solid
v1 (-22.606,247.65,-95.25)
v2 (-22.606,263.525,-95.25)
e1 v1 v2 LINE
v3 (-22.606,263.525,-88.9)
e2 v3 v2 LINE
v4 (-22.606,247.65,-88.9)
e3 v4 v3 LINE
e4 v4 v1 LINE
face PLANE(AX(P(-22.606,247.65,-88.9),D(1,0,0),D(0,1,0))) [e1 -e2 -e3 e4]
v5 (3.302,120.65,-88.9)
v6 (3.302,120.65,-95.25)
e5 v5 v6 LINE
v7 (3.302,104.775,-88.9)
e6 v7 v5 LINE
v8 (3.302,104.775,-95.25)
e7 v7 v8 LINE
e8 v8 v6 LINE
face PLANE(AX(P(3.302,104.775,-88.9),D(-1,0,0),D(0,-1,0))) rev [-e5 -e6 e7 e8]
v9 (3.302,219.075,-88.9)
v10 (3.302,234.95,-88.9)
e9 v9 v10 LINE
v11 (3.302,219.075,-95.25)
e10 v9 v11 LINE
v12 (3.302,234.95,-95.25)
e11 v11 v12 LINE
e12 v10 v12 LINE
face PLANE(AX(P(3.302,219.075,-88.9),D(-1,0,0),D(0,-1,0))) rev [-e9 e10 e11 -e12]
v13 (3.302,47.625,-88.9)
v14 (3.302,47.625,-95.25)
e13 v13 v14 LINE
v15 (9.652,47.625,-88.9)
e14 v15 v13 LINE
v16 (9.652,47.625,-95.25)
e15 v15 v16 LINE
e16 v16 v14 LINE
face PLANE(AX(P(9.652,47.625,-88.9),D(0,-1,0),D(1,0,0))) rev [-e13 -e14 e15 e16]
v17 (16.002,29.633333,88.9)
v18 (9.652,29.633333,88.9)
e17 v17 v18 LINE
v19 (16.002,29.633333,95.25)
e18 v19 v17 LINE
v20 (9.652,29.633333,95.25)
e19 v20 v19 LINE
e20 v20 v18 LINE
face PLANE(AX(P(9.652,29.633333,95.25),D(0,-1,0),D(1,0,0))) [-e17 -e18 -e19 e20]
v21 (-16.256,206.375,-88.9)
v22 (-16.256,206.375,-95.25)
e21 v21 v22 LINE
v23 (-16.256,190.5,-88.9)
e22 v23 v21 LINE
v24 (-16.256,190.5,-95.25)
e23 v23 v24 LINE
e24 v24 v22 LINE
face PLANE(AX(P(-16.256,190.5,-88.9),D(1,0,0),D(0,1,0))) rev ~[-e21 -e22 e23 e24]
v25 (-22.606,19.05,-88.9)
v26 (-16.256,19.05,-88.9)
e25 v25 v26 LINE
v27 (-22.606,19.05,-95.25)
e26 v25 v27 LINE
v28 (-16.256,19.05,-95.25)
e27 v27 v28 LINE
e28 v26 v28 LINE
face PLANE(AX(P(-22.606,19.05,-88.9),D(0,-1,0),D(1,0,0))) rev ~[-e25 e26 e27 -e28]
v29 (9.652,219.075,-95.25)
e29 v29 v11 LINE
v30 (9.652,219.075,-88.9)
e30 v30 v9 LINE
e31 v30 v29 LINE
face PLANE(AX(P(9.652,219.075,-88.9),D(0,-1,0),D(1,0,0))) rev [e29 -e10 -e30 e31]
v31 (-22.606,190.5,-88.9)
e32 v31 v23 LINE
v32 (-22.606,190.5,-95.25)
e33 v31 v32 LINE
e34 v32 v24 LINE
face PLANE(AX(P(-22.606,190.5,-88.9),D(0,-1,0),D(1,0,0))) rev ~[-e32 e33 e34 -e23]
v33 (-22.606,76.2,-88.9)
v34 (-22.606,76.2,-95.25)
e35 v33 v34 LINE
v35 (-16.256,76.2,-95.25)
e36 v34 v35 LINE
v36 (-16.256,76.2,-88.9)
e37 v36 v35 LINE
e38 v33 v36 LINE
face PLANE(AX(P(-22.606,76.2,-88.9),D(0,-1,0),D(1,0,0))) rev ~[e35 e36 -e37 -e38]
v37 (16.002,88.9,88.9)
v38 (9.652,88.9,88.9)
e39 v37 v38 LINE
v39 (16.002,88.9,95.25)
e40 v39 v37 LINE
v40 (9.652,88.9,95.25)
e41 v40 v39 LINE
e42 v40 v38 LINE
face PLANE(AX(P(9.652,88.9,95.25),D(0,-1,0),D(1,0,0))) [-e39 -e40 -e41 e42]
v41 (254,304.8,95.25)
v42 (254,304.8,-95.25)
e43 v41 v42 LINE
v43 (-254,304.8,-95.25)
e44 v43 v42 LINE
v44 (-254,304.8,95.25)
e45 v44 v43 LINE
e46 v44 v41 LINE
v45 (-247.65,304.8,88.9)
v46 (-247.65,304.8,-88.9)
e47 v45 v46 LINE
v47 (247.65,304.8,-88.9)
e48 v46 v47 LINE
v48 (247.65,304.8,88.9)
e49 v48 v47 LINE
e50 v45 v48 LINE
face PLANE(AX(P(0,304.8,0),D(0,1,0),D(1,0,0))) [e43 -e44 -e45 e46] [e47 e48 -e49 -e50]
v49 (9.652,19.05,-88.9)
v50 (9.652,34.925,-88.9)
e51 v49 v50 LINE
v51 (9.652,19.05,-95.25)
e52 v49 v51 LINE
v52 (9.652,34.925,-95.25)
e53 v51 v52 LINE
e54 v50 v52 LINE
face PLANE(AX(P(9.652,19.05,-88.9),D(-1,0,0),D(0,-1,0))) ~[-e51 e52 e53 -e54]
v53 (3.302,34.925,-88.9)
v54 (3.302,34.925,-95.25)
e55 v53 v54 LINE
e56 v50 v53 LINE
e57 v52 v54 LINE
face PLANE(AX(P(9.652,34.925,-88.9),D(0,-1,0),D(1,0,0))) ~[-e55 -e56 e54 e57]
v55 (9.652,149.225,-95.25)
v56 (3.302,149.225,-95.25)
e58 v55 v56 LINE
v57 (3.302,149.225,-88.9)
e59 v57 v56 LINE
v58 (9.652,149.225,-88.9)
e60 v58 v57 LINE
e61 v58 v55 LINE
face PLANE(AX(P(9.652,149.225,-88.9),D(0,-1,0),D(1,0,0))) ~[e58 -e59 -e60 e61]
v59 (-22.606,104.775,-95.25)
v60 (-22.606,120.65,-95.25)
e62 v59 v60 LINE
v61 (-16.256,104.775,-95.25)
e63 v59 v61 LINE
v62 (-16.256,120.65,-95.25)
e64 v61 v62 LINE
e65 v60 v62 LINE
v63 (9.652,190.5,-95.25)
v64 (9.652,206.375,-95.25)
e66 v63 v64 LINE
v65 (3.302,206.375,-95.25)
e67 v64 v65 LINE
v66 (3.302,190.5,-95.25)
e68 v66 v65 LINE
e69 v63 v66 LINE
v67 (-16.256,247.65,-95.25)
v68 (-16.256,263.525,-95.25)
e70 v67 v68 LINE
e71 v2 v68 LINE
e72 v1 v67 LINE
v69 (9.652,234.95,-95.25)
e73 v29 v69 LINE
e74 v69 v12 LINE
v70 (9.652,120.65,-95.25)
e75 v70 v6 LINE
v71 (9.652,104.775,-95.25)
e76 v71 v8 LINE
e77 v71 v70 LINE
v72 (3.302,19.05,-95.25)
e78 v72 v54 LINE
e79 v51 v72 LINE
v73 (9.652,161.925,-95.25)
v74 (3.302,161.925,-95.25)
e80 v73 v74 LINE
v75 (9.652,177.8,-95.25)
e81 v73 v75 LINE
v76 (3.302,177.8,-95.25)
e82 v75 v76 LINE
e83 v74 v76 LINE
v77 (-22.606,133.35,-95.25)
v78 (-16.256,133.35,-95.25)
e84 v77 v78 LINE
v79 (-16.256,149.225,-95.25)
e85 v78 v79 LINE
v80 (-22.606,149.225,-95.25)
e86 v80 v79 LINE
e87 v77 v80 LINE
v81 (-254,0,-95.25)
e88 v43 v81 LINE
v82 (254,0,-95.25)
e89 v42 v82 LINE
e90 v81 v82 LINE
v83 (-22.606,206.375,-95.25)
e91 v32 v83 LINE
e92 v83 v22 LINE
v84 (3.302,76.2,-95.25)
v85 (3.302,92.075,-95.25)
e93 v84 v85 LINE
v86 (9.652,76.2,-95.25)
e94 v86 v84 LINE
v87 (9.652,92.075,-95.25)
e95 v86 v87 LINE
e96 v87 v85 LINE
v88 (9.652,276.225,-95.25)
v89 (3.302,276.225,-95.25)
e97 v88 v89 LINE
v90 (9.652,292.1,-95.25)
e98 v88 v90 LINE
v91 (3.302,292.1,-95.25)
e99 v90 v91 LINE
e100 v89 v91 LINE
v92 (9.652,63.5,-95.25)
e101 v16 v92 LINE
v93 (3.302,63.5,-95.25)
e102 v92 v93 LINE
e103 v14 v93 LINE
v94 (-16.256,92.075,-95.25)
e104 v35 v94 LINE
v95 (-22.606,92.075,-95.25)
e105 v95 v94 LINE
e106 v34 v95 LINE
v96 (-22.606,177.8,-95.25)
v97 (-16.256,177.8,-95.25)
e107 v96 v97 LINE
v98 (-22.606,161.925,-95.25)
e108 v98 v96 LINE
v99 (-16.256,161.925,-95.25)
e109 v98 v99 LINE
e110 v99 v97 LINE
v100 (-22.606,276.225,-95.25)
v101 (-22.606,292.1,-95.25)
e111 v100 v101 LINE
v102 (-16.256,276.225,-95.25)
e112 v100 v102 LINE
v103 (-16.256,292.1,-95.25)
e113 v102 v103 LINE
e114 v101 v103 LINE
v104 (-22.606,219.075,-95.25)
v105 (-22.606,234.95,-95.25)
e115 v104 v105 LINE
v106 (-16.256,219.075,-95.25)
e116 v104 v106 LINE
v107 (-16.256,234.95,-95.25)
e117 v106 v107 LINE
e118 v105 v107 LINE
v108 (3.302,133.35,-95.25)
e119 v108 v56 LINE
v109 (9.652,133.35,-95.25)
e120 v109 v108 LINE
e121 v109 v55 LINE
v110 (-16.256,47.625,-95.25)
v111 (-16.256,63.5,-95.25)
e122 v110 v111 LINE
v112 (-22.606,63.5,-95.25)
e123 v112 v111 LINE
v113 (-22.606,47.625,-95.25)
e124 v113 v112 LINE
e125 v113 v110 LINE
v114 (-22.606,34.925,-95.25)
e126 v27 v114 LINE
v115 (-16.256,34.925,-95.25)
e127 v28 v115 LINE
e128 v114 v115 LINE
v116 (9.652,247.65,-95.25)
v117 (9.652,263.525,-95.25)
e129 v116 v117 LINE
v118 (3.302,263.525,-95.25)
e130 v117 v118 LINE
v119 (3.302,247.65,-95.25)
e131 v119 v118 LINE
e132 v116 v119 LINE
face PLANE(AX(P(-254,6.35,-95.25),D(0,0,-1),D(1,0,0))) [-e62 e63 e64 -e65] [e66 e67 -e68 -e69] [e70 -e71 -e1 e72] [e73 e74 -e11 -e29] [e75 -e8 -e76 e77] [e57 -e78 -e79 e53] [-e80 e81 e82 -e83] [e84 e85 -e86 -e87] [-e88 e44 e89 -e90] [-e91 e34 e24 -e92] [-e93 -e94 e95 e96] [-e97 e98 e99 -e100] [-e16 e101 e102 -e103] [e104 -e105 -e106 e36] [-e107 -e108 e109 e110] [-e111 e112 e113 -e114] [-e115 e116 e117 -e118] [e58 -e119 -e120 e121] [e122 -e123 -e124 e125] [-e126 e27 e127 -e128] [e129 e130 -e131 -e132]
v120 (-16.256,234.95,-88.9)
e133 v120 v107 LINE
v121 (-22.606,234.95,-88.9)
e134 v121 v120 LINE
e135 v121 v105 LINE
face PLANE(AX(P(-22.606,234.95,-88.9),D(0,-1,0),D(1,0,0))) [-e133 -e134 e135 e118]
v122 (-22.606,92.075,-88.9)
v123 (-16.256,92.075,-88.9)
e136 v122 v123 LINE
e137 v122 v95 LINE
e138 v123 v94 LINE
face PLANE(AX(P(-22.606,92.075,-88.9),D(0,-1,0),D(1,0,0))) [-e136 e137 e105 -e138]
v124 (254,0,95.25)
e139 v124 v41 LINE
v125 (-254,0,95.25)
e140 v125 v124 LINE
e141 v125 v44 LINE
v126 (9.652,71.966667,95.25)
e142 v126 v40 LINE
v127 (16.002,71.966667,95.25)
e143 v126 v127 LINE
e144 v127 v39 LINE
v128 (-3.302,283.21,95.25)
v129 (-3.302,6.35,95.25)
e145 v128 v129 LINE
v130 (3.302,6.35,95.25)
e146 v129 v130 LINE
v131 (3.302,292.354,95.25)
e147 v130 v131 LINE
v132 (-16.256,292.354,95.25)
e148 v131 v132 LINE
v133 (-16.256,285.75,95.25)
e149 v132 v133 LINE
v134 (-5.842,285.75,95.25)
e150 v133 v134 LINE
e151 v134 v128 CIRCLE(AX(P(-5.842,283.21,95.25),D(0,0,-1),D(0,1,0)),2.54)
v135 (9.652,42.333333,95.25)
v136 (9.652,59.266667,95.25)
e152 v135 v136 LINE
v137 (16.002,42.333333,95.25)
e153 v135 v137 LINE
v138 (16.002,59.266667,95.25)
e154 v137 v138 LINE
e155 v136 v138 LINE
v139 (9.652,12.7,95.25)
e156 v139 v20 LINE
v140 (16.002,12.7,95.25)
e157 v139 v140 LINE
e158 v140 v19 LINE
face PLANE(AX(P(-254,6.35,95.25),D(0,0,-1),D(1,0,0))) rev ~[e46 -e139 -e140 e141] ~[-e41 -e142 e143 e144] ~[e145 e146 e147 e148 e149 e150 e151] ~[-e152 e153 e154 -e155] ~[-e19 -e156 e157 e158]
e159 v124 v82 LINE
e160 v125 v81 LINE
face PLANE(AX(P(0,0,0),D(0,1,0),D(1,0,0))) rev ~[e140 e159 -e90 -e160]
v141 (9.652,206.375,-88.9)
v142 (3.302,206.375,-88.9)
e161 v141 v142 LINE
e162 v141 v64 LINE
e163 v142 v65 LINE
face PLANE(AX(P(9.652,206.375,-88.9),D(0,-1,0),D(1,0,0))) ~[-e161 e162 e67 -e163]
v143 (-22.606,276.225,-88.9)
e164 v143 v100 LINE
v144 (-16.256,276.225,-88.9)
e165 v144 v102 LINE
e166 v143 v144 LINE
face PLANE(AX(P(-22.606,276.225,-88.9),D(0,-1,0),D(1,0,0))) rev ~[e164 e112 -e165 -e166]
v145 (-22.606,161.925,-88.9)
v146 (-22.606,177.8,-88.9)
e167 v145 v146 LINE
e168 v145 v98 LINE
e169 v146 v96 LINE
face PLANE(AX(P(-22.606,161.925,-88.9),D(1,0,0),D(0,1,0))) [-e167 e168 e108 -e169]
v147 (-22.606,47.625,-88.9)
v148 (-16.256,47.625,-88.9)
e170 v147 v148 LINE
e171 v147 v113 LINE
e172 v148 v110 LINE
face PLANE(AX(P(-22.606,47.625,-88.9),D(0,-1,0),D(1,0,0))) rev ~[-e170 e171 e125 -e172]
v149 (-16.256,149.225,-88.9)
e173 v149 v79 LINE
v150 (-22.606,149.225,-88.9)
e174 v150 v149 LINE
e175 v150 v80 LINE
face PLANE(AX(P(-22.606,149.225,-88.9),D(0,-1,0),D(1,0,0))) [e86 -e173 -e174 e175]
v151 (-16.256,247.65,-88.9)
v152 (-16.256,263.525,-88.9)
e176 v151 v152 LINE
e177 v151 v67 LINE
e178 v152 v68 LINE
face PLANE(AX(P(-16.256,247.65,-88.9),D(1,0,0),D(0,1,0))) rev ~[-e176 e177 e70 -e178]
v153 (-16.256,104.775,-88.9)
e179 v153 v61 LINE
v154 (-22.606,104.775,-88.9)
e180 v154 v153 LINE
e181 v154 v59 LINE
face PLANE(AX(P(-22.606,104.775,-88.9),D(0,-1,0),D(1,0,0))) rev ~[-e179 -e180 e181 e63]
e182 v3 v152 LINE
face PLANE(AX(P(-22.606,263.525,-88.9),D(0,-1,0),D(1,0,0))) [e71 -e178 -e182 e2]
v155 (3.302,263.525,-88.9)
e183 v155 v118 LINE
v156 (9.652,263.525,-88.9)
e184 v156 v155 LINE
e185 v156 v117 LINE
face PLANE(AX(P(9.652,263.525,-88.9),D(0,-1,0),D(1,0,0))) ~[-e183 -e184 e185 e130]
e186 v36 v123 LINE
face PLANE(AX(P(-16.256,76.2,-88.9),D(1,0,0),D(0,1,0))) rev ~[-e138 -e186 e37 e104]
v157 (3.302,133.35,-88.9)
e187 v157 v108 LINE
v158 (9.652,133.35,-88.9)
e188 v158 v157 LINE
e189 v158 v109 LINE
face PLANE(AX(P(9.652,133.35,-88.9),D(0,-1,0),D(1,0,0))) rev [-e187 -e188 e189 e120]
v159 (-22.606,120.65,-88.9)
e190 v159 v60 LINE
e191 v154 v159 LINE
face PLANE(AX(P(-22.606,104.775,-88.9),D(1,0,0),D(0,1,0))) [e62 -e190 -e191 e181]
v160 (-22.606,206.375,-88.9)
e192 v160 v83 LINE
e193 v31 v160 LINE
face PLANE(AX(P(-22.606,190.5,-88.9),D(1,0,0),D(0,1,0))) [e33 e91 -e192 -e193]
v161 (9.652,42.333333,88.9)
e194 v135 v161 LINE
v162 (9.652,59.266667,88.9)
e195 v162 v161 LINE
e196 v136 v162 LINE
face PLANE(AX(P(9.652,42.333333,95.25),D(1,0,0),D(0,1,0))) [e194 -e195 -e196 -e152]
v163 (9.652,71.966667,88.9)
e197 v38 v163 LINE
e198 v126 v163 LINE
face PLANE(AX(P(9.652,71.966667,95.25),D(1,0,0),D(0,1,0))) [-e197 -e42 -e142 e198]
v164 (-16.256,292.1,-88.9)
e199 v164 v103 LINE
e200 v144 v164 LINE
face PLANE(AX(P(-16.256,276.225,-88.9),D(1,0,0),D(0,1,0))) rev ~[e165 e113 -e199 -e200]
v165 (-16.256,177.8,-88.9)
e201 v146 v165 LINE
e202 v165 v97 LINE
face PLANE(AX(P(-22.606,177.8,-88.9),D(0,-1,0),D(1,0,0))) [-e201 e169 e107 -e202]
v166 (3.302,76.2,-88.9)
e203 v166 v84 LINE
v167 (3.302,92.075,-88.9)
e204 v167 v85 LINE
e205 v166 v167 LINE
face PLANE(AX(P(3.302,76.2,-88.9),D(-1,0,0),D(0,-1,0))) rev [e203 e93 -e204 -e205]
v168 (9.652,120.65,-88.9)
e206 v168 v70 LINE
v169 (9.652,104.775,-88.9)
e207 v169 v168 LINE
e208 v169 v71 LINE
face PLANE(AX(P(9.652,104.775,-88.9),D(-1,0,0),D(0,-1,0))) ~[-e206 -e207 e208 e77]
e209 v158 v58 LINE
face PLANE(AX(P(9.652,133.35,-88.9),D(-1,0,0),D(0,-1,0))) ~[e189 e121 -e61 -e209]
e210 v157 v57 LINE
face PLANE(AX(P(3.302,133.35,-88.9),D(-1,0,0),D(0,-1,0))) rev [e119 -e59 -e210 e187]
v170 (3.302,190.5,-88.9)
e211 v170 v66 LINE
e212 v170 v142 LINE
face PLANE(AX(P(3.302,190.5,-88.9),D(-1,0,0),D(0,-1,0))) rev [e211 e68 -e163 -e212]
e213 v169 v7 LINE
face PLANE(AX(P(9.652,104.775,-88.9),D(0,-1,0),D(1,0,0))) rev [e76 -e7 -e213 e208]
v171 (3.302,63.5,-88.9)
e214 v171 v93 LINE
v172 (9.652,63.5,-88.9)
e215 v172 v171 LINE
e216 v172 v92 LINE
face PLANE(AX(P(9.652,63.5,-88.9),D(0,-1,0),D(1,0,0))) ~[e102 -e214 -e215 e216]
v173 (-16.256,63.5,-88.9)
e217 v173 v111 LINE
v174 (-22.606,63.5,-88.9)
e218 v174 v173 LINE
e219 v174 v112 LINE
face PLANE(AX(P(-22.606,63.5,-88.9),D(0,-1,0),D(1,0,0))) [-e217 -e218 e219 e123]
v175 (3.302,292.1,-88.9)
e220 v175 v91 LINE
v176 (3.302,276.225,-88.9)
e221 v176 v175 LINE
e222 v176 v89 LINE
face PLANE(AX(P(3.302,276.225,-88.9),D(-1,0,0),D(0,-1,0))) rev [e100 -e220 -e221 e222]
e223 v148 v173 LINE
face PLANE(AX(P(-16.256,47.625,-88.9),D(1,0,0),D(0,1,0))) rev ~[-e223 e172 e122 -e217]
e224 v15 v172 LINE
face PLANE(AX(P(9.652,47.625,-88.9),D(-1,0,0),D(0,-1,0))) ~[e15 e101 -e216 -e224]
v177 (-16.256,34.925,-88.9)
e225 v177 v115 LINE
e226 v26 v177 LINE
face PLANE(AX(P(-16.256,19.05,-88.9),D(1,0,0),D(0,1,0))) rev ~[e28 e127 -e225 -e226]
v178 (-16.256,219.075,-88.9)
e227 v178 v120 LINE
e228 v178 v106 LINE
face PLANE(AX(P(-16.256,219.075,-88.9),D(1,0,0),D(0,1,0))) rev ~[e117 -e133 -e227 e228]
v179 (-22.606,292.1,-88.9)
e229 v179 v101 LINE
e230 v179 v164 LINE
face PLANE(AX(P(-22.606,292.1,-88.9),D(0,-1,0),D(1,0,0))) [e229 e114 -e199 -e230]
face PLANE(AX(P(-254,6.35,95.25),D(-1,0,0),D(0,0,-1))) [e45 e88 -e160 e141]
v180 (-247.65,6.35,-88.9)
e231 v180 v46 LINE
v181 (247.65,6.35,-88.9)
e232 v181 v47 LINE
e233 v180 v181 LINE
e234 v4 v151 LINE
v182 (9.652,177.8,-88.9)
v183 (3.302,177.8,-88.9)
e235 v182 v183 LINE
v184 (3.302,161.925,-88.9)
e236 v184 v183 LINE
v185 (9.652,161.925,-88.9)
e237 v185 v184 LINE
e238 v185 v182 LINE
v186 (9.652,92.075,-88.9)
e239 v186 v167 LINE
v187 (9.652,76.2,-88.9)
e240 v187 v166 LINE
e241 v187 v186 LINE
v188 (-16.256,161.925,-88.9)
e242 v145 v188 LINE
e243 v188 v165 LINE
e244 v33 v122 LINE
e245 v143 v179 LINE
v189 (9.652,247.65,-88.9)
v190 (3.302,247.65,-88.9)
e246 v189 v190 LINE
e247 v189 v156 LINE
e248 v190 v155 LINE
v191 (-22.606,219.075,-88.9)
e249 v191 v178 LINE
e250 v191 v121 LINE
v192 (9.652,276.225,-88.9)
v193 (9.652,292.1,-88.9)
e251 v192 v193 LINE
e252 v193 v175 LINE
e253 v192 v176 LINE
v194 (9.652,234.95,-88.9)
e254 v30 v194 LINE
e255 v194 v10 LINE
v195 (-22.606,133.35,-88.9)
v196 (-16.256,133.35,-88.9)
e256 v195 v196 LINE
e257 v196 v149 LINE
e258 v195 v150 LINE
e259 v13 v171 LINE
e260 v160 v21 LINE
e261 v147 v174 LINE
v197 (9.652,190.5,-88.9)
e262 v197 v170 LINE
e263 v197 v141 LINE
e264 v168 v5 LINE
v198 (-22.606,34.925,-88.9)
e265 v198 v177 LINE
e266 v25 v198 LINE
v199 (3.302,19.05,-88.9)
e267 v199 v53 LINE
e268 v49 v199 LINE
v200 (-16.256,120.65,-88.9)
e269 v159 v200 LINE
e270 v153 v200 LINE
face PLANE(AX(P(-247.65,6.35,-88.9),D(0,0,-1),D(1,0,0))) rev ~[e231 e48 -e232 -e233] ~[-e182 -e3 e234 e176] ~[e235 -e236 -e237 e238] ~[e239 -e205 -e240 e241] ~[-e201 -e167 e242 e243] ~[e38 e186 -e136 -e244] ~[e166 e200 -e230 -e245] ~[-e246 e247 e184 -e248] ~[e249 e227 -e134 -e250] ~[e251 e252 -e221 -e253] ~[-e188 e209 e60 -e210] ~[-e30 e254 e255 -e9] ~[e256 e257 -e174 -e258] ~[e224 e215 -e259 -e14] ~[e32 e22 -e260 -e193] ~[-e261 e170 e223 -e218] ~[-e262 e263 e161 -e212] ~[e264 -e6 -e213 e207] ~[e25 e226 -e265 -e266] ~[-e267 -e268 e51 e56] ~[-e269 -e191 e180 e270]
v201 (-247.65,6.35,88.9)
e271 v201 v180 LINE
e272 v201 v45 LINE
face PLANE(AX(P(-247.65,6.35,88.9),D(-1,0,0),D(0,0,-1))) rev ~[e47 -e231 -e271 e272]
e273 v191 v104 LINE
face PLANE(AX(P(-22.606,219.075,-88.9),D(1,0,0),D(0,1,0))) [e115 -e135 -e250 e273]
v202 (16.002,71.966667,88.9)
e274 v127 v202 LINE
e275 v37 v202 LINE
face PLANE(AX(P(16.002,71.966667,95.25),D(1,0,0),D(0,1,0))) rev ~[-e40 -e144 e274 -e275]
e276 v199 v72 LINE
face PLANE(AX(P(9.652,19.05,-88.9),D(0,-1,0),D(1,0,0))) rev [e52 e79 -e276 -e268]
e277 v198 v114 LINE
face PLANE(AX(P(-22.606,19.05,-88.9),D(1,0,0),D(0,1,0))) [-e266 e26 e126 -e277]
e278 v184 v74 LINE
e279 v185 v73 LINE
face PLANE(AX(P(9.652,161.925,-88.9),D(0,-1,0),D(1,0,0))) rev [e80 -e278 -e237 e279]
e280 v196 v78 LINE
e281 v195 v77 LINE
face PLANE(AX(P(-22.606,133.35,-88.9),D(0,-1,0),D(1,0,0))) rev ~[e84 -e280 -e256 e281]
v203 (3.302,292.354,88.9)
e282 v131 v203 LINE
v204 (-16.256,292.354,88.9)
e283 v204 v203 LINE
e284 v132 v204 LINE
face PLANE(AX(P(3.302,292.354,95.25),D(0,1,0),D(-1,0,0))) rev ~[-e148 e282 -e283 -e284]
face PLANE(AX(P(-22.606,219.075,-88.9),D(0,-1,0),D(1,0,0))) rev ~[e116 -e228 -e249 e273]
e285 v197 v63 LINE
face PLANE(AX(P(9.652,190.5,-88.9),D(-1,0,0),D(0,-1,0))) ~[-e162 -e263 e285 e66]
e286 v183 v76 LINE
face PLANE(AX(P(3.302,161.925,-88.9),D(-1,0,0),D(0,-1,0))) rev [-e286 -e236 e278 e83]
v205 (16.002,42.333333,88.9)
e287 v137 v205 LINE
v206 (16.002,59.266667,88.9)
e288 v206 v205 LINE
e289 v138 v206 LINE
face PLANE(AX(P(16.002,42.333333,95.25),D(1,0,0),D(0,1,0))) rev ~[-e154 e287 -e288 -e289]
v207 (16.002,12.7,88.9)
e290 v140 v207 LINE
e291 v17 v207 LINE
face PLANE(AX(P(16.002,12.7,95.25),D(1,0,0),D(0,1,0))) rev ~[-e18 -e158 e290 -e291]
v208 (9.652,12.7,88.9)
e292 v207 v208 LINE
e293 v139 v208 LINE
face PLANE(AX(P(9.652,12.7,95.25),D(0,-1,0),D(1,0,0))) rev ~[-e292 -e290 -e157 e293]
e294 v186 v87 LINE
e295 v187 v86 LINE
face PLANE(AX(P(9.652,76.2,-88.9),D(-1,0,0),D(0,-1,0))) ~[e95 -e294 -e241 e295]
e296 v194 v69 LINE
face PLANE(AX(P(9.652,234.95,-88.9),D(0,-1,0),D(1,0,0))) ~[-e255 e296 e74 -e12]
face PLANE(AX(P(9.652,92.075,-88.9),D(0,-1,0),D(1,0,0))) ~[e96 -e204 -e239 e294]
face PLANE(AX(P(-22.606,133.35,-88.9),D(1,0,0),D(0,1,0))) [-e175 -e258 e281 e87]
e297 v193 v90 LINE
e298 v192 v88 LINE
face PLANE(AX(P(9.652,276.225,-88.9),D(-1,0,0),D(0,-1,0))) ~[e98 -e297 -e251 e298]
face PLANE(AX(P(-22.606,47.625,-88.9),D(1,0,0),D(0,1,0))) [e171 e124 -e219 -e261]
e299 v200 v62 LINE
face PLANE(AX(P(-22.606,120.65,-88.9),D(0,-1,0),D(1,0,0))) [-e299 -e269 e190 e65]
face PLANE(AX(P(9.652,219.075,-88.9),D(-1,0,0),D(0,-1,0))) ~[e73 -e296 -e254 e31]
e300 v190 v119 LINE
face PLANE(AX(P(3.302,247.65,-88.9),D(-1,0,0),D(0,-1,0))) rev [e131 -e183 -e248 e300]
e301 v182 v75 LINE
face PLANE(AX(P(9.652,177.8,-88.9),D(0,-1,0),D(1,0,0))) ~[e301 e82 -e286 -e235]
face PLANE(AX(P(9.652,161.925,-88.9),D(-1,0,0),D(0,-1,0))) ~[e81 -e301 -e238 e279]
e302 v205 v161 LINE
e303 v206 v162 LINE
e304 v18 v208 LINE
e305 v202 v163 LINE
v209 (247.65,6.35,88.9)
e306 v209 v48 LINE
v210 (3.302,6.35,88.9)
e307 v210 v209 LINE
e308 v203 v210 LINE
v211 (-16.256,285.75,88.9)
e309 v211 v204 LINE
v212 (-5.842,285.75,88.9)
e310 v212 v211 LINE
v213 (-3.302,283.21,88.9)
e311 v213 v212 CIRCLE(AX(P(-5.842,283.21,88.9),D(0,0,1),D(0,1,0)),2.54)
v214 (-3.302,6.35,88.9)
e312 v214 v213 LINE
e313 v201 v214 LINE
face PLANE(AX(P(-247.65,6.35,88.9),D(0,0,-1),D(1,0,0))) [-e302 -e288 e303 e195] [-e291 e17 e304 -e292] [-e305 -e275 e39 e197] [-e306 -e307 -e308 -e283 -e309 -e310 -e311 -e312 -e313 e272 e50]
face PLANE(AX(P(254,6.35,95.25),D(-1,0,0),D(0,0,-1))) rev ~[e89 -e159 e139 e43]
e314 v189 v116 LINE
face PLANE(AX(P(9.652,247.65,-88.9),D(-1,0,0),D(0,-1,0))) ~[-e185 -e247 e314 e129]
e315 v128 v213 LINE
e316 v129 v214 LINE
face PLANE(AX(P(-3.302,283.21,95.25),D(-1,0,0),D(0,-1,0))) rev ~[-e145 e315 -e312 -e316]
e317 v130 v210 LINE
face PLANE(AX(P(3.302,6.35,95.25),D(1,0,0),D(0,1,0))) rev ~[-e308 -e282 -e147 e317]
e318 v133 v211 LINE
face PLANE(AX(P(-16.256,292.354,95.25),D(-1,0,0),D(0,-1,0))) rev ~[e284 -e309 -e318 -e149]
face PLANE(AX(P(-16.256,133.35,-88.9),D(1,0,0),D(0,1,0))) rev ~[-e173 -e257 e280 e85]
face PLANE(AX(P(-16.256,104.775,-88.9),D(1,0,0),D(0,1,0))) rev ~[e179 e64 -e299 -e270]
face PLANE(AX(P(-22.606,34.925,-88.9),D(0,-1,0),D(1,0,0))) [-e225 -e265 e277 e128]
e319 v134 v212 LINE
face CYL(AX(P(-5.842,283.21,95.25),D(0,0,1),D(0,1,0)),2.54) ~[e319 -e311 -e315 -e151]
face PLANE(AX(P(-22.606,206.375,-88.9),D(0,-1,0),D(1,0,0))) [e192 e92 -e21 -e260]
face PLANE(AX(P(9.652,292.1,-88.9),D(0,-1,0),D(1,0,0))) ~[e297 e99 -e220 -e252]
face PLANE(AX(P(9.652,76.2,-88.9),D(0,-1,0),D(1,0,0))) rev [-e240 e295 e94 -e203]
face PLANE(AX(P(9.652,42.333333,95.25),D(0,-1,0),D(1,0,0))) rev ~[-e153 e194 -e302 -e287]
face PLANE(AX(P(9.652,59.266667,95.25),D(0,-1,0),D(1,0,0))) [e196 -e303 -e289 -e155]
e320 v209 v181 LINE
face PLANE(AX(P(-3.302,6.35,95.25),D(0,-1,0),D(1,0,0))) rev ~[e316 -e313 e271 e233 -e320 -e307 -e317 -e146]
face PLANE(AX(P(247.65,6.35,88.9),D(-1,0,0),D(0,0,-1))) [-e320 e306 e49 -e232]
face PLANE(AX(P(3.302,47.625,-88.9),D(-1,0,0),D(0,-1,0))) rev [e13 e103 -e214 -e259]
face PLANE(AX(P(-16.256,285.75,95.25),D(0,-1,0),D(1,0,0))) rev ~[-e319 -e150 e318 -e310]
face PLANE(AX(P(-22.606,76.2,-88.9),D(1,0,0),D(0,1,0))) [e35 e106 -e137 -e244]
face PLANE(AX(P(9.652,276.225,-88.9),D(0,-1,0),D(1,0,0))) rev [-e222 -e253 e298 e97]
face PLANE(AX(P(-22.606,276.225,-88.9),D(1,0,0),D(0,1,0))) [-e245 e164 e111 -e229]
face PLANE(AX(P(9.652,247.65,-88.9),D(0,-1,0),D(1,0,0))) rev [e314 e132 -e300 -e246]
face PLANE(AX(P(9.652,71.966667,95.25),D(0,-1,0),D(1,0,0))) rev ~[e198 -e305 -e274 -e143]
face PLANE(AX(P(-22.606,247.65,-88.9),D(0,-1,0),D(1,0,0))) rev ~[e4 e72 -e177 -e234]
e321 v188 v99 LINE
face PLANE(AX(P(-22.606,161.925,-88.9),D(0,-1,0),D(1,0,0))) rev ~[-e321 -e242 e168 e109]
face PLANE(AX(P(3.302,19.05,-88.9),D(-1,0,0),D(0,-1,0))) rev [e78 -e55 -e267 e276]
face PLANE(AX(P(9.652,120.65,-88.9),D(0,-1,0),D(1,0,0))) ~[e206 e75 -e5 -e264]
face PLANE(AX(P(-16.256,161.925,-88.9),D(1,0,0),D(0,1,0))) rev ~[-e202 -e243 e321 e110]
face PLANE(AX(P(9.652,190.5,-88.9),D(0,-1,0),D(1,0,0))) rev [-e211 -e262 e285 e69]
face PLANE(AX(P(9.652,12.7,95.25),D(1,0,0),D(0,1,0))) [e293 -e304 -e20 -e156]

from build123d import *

# Parameters (mm, degrees)
SKETCH1_W           = 508
SKETCH1_H           = 190.5
BOSS_EXTRUDE1_DEPTH = 6.35
SKETCH2_W           = 508
SKETCH2_H           = 190.5
SKETCH2_W_2         = 495.3
SKETCH2_H_2         = 177.8
BOSS_EXTRUDE2_DEPTH = 298.45
SKETCH3_W           = 6.35
SKETCH3_H           = 16.933333333
SKETCH3_H_2         = 16.933333334
CUT_EXTRUDE1_DEPTH  = 12.7
SKETCH4_W           = 6.35
SKETCH4_H           = 15.875
CUT_EXTRUDE2_DEPTH  = 6.35


with BuildPart() as part:
    # Sketch1 → Boss-Extrude1 (new body)
    with BuildSketch(Plane(origin=(0, 0, 0), x_dir=(1, 0, 0), z_dir=(0, 1, 0))):
        Rectangle(SKETCH1_W, SKETCH1_H)
    extrude(amount=BOSS_EXTRUDE1_DEPTH)

    # Sketch2 → Boss-Extrude2 (add)
    with BuildSketch(Plane(origin=(0, 6.35, 0), x_dir=(1, 0, 0), z_dir=(0, 1, 0))):
        Rectangle(SKETCH2_W, SKETCH2_H)
        Rectangle(SKETCH2_W_2, SKETCH2_H_2, mode=Mode.SUBTRACT)
    extrude(amount=BOSS_EXTRUDE2_DEPTH)

    # Sketch3 → Cut-Extrude1 (cut)
    with BuildSketch(Plane.XY.offset(95.25)):
        with BuildLine():
            Line((-3.302, 283.21), (-3.302, 6.35))
            Line((-3.302, 6.35), (3.302, 6.35))
            Line((3.302, 6.35), (3.302, 292.354))
            Line((3.302, 292.354), (-16.256, 292.354))
            Line((-16.256, 292.354), (-16.256, 285.75))
            Line((-16.256, 285.75), (-5.842, 285.75))
            ThreePointArc((-5.842, 285.75), (-4.045948776, 285.006051224), (-3.302, 283.21))
        make_face()
        with Locations((12.827, 80.433333334)):
            Rectangle(SKETCH3_W, SKETCH3_H)
        with Locations((12.827, 50.8)):
            Rectangle(SKETCH3_W, SKETCH3_H_2)
        with Locations((12.827, 21.166666667)):
            Rectangle(SKETCH3_W, SKETCH3_H)
    extrude(amount=-CUT_EXTRUDE1_DEPTH, mode=Mode.SUBTRACT)

    # Sketch4 → Cut-Extrude2 (cut)
    with BuildSketch(Plane.XY.offset(-88.9)):
        with Locations((-19.431, 284.1625)):
            Rectangle(SKETCH4_W, SKETCH4_H)
        with Locations((-19.431, 255.5875)):
            Rectangle(SKETCH4_W, SKETCH4_H)
        with Locations((-19.431, 227.0125)):
            Rectangle(SKETCH4_W, SKETCH4_H)
        with Locations((-19.431, 198.4375)):
            Rectangle(SKETCH4_W, SKETCH4_H)
        with Locations((-19.431, 169.8625)):
            Rectangle(SKETCH4_W, SKETCH4_H)
        with Locations((-19.431, 141.2875)):
            Rectangle(SKETCH4_W, SKETCH4_H)
        with Locations((-19.431, 112.7125)):
            Rectangle(SKETCH4_W, SKETCH4_H)
        with Locations((-19.431, 84.1375)):
            Rectangle(SKETCH4_W, SKETCH4_H)
        with Locations((-19.431, 55.5625)):
            Rectangle(SKETCH4_W, SKETCH4_H)
        with Locations((-19.431, 26.9875)):
            Rectangle(SKETCH4_W, SKETCH4_H)
    cut_extrude2 = extrude(amount=-CUT_EXTRUDE2_DEPTH, mode=Mode.SUBTRACT)

    # Mirror1: Cut-Extrude2 across plane
    add(cut_extrude2.mirror(Plane.ZY.offset(6.477)), mode=Mode.SUBTRACT)


solid = part.part
